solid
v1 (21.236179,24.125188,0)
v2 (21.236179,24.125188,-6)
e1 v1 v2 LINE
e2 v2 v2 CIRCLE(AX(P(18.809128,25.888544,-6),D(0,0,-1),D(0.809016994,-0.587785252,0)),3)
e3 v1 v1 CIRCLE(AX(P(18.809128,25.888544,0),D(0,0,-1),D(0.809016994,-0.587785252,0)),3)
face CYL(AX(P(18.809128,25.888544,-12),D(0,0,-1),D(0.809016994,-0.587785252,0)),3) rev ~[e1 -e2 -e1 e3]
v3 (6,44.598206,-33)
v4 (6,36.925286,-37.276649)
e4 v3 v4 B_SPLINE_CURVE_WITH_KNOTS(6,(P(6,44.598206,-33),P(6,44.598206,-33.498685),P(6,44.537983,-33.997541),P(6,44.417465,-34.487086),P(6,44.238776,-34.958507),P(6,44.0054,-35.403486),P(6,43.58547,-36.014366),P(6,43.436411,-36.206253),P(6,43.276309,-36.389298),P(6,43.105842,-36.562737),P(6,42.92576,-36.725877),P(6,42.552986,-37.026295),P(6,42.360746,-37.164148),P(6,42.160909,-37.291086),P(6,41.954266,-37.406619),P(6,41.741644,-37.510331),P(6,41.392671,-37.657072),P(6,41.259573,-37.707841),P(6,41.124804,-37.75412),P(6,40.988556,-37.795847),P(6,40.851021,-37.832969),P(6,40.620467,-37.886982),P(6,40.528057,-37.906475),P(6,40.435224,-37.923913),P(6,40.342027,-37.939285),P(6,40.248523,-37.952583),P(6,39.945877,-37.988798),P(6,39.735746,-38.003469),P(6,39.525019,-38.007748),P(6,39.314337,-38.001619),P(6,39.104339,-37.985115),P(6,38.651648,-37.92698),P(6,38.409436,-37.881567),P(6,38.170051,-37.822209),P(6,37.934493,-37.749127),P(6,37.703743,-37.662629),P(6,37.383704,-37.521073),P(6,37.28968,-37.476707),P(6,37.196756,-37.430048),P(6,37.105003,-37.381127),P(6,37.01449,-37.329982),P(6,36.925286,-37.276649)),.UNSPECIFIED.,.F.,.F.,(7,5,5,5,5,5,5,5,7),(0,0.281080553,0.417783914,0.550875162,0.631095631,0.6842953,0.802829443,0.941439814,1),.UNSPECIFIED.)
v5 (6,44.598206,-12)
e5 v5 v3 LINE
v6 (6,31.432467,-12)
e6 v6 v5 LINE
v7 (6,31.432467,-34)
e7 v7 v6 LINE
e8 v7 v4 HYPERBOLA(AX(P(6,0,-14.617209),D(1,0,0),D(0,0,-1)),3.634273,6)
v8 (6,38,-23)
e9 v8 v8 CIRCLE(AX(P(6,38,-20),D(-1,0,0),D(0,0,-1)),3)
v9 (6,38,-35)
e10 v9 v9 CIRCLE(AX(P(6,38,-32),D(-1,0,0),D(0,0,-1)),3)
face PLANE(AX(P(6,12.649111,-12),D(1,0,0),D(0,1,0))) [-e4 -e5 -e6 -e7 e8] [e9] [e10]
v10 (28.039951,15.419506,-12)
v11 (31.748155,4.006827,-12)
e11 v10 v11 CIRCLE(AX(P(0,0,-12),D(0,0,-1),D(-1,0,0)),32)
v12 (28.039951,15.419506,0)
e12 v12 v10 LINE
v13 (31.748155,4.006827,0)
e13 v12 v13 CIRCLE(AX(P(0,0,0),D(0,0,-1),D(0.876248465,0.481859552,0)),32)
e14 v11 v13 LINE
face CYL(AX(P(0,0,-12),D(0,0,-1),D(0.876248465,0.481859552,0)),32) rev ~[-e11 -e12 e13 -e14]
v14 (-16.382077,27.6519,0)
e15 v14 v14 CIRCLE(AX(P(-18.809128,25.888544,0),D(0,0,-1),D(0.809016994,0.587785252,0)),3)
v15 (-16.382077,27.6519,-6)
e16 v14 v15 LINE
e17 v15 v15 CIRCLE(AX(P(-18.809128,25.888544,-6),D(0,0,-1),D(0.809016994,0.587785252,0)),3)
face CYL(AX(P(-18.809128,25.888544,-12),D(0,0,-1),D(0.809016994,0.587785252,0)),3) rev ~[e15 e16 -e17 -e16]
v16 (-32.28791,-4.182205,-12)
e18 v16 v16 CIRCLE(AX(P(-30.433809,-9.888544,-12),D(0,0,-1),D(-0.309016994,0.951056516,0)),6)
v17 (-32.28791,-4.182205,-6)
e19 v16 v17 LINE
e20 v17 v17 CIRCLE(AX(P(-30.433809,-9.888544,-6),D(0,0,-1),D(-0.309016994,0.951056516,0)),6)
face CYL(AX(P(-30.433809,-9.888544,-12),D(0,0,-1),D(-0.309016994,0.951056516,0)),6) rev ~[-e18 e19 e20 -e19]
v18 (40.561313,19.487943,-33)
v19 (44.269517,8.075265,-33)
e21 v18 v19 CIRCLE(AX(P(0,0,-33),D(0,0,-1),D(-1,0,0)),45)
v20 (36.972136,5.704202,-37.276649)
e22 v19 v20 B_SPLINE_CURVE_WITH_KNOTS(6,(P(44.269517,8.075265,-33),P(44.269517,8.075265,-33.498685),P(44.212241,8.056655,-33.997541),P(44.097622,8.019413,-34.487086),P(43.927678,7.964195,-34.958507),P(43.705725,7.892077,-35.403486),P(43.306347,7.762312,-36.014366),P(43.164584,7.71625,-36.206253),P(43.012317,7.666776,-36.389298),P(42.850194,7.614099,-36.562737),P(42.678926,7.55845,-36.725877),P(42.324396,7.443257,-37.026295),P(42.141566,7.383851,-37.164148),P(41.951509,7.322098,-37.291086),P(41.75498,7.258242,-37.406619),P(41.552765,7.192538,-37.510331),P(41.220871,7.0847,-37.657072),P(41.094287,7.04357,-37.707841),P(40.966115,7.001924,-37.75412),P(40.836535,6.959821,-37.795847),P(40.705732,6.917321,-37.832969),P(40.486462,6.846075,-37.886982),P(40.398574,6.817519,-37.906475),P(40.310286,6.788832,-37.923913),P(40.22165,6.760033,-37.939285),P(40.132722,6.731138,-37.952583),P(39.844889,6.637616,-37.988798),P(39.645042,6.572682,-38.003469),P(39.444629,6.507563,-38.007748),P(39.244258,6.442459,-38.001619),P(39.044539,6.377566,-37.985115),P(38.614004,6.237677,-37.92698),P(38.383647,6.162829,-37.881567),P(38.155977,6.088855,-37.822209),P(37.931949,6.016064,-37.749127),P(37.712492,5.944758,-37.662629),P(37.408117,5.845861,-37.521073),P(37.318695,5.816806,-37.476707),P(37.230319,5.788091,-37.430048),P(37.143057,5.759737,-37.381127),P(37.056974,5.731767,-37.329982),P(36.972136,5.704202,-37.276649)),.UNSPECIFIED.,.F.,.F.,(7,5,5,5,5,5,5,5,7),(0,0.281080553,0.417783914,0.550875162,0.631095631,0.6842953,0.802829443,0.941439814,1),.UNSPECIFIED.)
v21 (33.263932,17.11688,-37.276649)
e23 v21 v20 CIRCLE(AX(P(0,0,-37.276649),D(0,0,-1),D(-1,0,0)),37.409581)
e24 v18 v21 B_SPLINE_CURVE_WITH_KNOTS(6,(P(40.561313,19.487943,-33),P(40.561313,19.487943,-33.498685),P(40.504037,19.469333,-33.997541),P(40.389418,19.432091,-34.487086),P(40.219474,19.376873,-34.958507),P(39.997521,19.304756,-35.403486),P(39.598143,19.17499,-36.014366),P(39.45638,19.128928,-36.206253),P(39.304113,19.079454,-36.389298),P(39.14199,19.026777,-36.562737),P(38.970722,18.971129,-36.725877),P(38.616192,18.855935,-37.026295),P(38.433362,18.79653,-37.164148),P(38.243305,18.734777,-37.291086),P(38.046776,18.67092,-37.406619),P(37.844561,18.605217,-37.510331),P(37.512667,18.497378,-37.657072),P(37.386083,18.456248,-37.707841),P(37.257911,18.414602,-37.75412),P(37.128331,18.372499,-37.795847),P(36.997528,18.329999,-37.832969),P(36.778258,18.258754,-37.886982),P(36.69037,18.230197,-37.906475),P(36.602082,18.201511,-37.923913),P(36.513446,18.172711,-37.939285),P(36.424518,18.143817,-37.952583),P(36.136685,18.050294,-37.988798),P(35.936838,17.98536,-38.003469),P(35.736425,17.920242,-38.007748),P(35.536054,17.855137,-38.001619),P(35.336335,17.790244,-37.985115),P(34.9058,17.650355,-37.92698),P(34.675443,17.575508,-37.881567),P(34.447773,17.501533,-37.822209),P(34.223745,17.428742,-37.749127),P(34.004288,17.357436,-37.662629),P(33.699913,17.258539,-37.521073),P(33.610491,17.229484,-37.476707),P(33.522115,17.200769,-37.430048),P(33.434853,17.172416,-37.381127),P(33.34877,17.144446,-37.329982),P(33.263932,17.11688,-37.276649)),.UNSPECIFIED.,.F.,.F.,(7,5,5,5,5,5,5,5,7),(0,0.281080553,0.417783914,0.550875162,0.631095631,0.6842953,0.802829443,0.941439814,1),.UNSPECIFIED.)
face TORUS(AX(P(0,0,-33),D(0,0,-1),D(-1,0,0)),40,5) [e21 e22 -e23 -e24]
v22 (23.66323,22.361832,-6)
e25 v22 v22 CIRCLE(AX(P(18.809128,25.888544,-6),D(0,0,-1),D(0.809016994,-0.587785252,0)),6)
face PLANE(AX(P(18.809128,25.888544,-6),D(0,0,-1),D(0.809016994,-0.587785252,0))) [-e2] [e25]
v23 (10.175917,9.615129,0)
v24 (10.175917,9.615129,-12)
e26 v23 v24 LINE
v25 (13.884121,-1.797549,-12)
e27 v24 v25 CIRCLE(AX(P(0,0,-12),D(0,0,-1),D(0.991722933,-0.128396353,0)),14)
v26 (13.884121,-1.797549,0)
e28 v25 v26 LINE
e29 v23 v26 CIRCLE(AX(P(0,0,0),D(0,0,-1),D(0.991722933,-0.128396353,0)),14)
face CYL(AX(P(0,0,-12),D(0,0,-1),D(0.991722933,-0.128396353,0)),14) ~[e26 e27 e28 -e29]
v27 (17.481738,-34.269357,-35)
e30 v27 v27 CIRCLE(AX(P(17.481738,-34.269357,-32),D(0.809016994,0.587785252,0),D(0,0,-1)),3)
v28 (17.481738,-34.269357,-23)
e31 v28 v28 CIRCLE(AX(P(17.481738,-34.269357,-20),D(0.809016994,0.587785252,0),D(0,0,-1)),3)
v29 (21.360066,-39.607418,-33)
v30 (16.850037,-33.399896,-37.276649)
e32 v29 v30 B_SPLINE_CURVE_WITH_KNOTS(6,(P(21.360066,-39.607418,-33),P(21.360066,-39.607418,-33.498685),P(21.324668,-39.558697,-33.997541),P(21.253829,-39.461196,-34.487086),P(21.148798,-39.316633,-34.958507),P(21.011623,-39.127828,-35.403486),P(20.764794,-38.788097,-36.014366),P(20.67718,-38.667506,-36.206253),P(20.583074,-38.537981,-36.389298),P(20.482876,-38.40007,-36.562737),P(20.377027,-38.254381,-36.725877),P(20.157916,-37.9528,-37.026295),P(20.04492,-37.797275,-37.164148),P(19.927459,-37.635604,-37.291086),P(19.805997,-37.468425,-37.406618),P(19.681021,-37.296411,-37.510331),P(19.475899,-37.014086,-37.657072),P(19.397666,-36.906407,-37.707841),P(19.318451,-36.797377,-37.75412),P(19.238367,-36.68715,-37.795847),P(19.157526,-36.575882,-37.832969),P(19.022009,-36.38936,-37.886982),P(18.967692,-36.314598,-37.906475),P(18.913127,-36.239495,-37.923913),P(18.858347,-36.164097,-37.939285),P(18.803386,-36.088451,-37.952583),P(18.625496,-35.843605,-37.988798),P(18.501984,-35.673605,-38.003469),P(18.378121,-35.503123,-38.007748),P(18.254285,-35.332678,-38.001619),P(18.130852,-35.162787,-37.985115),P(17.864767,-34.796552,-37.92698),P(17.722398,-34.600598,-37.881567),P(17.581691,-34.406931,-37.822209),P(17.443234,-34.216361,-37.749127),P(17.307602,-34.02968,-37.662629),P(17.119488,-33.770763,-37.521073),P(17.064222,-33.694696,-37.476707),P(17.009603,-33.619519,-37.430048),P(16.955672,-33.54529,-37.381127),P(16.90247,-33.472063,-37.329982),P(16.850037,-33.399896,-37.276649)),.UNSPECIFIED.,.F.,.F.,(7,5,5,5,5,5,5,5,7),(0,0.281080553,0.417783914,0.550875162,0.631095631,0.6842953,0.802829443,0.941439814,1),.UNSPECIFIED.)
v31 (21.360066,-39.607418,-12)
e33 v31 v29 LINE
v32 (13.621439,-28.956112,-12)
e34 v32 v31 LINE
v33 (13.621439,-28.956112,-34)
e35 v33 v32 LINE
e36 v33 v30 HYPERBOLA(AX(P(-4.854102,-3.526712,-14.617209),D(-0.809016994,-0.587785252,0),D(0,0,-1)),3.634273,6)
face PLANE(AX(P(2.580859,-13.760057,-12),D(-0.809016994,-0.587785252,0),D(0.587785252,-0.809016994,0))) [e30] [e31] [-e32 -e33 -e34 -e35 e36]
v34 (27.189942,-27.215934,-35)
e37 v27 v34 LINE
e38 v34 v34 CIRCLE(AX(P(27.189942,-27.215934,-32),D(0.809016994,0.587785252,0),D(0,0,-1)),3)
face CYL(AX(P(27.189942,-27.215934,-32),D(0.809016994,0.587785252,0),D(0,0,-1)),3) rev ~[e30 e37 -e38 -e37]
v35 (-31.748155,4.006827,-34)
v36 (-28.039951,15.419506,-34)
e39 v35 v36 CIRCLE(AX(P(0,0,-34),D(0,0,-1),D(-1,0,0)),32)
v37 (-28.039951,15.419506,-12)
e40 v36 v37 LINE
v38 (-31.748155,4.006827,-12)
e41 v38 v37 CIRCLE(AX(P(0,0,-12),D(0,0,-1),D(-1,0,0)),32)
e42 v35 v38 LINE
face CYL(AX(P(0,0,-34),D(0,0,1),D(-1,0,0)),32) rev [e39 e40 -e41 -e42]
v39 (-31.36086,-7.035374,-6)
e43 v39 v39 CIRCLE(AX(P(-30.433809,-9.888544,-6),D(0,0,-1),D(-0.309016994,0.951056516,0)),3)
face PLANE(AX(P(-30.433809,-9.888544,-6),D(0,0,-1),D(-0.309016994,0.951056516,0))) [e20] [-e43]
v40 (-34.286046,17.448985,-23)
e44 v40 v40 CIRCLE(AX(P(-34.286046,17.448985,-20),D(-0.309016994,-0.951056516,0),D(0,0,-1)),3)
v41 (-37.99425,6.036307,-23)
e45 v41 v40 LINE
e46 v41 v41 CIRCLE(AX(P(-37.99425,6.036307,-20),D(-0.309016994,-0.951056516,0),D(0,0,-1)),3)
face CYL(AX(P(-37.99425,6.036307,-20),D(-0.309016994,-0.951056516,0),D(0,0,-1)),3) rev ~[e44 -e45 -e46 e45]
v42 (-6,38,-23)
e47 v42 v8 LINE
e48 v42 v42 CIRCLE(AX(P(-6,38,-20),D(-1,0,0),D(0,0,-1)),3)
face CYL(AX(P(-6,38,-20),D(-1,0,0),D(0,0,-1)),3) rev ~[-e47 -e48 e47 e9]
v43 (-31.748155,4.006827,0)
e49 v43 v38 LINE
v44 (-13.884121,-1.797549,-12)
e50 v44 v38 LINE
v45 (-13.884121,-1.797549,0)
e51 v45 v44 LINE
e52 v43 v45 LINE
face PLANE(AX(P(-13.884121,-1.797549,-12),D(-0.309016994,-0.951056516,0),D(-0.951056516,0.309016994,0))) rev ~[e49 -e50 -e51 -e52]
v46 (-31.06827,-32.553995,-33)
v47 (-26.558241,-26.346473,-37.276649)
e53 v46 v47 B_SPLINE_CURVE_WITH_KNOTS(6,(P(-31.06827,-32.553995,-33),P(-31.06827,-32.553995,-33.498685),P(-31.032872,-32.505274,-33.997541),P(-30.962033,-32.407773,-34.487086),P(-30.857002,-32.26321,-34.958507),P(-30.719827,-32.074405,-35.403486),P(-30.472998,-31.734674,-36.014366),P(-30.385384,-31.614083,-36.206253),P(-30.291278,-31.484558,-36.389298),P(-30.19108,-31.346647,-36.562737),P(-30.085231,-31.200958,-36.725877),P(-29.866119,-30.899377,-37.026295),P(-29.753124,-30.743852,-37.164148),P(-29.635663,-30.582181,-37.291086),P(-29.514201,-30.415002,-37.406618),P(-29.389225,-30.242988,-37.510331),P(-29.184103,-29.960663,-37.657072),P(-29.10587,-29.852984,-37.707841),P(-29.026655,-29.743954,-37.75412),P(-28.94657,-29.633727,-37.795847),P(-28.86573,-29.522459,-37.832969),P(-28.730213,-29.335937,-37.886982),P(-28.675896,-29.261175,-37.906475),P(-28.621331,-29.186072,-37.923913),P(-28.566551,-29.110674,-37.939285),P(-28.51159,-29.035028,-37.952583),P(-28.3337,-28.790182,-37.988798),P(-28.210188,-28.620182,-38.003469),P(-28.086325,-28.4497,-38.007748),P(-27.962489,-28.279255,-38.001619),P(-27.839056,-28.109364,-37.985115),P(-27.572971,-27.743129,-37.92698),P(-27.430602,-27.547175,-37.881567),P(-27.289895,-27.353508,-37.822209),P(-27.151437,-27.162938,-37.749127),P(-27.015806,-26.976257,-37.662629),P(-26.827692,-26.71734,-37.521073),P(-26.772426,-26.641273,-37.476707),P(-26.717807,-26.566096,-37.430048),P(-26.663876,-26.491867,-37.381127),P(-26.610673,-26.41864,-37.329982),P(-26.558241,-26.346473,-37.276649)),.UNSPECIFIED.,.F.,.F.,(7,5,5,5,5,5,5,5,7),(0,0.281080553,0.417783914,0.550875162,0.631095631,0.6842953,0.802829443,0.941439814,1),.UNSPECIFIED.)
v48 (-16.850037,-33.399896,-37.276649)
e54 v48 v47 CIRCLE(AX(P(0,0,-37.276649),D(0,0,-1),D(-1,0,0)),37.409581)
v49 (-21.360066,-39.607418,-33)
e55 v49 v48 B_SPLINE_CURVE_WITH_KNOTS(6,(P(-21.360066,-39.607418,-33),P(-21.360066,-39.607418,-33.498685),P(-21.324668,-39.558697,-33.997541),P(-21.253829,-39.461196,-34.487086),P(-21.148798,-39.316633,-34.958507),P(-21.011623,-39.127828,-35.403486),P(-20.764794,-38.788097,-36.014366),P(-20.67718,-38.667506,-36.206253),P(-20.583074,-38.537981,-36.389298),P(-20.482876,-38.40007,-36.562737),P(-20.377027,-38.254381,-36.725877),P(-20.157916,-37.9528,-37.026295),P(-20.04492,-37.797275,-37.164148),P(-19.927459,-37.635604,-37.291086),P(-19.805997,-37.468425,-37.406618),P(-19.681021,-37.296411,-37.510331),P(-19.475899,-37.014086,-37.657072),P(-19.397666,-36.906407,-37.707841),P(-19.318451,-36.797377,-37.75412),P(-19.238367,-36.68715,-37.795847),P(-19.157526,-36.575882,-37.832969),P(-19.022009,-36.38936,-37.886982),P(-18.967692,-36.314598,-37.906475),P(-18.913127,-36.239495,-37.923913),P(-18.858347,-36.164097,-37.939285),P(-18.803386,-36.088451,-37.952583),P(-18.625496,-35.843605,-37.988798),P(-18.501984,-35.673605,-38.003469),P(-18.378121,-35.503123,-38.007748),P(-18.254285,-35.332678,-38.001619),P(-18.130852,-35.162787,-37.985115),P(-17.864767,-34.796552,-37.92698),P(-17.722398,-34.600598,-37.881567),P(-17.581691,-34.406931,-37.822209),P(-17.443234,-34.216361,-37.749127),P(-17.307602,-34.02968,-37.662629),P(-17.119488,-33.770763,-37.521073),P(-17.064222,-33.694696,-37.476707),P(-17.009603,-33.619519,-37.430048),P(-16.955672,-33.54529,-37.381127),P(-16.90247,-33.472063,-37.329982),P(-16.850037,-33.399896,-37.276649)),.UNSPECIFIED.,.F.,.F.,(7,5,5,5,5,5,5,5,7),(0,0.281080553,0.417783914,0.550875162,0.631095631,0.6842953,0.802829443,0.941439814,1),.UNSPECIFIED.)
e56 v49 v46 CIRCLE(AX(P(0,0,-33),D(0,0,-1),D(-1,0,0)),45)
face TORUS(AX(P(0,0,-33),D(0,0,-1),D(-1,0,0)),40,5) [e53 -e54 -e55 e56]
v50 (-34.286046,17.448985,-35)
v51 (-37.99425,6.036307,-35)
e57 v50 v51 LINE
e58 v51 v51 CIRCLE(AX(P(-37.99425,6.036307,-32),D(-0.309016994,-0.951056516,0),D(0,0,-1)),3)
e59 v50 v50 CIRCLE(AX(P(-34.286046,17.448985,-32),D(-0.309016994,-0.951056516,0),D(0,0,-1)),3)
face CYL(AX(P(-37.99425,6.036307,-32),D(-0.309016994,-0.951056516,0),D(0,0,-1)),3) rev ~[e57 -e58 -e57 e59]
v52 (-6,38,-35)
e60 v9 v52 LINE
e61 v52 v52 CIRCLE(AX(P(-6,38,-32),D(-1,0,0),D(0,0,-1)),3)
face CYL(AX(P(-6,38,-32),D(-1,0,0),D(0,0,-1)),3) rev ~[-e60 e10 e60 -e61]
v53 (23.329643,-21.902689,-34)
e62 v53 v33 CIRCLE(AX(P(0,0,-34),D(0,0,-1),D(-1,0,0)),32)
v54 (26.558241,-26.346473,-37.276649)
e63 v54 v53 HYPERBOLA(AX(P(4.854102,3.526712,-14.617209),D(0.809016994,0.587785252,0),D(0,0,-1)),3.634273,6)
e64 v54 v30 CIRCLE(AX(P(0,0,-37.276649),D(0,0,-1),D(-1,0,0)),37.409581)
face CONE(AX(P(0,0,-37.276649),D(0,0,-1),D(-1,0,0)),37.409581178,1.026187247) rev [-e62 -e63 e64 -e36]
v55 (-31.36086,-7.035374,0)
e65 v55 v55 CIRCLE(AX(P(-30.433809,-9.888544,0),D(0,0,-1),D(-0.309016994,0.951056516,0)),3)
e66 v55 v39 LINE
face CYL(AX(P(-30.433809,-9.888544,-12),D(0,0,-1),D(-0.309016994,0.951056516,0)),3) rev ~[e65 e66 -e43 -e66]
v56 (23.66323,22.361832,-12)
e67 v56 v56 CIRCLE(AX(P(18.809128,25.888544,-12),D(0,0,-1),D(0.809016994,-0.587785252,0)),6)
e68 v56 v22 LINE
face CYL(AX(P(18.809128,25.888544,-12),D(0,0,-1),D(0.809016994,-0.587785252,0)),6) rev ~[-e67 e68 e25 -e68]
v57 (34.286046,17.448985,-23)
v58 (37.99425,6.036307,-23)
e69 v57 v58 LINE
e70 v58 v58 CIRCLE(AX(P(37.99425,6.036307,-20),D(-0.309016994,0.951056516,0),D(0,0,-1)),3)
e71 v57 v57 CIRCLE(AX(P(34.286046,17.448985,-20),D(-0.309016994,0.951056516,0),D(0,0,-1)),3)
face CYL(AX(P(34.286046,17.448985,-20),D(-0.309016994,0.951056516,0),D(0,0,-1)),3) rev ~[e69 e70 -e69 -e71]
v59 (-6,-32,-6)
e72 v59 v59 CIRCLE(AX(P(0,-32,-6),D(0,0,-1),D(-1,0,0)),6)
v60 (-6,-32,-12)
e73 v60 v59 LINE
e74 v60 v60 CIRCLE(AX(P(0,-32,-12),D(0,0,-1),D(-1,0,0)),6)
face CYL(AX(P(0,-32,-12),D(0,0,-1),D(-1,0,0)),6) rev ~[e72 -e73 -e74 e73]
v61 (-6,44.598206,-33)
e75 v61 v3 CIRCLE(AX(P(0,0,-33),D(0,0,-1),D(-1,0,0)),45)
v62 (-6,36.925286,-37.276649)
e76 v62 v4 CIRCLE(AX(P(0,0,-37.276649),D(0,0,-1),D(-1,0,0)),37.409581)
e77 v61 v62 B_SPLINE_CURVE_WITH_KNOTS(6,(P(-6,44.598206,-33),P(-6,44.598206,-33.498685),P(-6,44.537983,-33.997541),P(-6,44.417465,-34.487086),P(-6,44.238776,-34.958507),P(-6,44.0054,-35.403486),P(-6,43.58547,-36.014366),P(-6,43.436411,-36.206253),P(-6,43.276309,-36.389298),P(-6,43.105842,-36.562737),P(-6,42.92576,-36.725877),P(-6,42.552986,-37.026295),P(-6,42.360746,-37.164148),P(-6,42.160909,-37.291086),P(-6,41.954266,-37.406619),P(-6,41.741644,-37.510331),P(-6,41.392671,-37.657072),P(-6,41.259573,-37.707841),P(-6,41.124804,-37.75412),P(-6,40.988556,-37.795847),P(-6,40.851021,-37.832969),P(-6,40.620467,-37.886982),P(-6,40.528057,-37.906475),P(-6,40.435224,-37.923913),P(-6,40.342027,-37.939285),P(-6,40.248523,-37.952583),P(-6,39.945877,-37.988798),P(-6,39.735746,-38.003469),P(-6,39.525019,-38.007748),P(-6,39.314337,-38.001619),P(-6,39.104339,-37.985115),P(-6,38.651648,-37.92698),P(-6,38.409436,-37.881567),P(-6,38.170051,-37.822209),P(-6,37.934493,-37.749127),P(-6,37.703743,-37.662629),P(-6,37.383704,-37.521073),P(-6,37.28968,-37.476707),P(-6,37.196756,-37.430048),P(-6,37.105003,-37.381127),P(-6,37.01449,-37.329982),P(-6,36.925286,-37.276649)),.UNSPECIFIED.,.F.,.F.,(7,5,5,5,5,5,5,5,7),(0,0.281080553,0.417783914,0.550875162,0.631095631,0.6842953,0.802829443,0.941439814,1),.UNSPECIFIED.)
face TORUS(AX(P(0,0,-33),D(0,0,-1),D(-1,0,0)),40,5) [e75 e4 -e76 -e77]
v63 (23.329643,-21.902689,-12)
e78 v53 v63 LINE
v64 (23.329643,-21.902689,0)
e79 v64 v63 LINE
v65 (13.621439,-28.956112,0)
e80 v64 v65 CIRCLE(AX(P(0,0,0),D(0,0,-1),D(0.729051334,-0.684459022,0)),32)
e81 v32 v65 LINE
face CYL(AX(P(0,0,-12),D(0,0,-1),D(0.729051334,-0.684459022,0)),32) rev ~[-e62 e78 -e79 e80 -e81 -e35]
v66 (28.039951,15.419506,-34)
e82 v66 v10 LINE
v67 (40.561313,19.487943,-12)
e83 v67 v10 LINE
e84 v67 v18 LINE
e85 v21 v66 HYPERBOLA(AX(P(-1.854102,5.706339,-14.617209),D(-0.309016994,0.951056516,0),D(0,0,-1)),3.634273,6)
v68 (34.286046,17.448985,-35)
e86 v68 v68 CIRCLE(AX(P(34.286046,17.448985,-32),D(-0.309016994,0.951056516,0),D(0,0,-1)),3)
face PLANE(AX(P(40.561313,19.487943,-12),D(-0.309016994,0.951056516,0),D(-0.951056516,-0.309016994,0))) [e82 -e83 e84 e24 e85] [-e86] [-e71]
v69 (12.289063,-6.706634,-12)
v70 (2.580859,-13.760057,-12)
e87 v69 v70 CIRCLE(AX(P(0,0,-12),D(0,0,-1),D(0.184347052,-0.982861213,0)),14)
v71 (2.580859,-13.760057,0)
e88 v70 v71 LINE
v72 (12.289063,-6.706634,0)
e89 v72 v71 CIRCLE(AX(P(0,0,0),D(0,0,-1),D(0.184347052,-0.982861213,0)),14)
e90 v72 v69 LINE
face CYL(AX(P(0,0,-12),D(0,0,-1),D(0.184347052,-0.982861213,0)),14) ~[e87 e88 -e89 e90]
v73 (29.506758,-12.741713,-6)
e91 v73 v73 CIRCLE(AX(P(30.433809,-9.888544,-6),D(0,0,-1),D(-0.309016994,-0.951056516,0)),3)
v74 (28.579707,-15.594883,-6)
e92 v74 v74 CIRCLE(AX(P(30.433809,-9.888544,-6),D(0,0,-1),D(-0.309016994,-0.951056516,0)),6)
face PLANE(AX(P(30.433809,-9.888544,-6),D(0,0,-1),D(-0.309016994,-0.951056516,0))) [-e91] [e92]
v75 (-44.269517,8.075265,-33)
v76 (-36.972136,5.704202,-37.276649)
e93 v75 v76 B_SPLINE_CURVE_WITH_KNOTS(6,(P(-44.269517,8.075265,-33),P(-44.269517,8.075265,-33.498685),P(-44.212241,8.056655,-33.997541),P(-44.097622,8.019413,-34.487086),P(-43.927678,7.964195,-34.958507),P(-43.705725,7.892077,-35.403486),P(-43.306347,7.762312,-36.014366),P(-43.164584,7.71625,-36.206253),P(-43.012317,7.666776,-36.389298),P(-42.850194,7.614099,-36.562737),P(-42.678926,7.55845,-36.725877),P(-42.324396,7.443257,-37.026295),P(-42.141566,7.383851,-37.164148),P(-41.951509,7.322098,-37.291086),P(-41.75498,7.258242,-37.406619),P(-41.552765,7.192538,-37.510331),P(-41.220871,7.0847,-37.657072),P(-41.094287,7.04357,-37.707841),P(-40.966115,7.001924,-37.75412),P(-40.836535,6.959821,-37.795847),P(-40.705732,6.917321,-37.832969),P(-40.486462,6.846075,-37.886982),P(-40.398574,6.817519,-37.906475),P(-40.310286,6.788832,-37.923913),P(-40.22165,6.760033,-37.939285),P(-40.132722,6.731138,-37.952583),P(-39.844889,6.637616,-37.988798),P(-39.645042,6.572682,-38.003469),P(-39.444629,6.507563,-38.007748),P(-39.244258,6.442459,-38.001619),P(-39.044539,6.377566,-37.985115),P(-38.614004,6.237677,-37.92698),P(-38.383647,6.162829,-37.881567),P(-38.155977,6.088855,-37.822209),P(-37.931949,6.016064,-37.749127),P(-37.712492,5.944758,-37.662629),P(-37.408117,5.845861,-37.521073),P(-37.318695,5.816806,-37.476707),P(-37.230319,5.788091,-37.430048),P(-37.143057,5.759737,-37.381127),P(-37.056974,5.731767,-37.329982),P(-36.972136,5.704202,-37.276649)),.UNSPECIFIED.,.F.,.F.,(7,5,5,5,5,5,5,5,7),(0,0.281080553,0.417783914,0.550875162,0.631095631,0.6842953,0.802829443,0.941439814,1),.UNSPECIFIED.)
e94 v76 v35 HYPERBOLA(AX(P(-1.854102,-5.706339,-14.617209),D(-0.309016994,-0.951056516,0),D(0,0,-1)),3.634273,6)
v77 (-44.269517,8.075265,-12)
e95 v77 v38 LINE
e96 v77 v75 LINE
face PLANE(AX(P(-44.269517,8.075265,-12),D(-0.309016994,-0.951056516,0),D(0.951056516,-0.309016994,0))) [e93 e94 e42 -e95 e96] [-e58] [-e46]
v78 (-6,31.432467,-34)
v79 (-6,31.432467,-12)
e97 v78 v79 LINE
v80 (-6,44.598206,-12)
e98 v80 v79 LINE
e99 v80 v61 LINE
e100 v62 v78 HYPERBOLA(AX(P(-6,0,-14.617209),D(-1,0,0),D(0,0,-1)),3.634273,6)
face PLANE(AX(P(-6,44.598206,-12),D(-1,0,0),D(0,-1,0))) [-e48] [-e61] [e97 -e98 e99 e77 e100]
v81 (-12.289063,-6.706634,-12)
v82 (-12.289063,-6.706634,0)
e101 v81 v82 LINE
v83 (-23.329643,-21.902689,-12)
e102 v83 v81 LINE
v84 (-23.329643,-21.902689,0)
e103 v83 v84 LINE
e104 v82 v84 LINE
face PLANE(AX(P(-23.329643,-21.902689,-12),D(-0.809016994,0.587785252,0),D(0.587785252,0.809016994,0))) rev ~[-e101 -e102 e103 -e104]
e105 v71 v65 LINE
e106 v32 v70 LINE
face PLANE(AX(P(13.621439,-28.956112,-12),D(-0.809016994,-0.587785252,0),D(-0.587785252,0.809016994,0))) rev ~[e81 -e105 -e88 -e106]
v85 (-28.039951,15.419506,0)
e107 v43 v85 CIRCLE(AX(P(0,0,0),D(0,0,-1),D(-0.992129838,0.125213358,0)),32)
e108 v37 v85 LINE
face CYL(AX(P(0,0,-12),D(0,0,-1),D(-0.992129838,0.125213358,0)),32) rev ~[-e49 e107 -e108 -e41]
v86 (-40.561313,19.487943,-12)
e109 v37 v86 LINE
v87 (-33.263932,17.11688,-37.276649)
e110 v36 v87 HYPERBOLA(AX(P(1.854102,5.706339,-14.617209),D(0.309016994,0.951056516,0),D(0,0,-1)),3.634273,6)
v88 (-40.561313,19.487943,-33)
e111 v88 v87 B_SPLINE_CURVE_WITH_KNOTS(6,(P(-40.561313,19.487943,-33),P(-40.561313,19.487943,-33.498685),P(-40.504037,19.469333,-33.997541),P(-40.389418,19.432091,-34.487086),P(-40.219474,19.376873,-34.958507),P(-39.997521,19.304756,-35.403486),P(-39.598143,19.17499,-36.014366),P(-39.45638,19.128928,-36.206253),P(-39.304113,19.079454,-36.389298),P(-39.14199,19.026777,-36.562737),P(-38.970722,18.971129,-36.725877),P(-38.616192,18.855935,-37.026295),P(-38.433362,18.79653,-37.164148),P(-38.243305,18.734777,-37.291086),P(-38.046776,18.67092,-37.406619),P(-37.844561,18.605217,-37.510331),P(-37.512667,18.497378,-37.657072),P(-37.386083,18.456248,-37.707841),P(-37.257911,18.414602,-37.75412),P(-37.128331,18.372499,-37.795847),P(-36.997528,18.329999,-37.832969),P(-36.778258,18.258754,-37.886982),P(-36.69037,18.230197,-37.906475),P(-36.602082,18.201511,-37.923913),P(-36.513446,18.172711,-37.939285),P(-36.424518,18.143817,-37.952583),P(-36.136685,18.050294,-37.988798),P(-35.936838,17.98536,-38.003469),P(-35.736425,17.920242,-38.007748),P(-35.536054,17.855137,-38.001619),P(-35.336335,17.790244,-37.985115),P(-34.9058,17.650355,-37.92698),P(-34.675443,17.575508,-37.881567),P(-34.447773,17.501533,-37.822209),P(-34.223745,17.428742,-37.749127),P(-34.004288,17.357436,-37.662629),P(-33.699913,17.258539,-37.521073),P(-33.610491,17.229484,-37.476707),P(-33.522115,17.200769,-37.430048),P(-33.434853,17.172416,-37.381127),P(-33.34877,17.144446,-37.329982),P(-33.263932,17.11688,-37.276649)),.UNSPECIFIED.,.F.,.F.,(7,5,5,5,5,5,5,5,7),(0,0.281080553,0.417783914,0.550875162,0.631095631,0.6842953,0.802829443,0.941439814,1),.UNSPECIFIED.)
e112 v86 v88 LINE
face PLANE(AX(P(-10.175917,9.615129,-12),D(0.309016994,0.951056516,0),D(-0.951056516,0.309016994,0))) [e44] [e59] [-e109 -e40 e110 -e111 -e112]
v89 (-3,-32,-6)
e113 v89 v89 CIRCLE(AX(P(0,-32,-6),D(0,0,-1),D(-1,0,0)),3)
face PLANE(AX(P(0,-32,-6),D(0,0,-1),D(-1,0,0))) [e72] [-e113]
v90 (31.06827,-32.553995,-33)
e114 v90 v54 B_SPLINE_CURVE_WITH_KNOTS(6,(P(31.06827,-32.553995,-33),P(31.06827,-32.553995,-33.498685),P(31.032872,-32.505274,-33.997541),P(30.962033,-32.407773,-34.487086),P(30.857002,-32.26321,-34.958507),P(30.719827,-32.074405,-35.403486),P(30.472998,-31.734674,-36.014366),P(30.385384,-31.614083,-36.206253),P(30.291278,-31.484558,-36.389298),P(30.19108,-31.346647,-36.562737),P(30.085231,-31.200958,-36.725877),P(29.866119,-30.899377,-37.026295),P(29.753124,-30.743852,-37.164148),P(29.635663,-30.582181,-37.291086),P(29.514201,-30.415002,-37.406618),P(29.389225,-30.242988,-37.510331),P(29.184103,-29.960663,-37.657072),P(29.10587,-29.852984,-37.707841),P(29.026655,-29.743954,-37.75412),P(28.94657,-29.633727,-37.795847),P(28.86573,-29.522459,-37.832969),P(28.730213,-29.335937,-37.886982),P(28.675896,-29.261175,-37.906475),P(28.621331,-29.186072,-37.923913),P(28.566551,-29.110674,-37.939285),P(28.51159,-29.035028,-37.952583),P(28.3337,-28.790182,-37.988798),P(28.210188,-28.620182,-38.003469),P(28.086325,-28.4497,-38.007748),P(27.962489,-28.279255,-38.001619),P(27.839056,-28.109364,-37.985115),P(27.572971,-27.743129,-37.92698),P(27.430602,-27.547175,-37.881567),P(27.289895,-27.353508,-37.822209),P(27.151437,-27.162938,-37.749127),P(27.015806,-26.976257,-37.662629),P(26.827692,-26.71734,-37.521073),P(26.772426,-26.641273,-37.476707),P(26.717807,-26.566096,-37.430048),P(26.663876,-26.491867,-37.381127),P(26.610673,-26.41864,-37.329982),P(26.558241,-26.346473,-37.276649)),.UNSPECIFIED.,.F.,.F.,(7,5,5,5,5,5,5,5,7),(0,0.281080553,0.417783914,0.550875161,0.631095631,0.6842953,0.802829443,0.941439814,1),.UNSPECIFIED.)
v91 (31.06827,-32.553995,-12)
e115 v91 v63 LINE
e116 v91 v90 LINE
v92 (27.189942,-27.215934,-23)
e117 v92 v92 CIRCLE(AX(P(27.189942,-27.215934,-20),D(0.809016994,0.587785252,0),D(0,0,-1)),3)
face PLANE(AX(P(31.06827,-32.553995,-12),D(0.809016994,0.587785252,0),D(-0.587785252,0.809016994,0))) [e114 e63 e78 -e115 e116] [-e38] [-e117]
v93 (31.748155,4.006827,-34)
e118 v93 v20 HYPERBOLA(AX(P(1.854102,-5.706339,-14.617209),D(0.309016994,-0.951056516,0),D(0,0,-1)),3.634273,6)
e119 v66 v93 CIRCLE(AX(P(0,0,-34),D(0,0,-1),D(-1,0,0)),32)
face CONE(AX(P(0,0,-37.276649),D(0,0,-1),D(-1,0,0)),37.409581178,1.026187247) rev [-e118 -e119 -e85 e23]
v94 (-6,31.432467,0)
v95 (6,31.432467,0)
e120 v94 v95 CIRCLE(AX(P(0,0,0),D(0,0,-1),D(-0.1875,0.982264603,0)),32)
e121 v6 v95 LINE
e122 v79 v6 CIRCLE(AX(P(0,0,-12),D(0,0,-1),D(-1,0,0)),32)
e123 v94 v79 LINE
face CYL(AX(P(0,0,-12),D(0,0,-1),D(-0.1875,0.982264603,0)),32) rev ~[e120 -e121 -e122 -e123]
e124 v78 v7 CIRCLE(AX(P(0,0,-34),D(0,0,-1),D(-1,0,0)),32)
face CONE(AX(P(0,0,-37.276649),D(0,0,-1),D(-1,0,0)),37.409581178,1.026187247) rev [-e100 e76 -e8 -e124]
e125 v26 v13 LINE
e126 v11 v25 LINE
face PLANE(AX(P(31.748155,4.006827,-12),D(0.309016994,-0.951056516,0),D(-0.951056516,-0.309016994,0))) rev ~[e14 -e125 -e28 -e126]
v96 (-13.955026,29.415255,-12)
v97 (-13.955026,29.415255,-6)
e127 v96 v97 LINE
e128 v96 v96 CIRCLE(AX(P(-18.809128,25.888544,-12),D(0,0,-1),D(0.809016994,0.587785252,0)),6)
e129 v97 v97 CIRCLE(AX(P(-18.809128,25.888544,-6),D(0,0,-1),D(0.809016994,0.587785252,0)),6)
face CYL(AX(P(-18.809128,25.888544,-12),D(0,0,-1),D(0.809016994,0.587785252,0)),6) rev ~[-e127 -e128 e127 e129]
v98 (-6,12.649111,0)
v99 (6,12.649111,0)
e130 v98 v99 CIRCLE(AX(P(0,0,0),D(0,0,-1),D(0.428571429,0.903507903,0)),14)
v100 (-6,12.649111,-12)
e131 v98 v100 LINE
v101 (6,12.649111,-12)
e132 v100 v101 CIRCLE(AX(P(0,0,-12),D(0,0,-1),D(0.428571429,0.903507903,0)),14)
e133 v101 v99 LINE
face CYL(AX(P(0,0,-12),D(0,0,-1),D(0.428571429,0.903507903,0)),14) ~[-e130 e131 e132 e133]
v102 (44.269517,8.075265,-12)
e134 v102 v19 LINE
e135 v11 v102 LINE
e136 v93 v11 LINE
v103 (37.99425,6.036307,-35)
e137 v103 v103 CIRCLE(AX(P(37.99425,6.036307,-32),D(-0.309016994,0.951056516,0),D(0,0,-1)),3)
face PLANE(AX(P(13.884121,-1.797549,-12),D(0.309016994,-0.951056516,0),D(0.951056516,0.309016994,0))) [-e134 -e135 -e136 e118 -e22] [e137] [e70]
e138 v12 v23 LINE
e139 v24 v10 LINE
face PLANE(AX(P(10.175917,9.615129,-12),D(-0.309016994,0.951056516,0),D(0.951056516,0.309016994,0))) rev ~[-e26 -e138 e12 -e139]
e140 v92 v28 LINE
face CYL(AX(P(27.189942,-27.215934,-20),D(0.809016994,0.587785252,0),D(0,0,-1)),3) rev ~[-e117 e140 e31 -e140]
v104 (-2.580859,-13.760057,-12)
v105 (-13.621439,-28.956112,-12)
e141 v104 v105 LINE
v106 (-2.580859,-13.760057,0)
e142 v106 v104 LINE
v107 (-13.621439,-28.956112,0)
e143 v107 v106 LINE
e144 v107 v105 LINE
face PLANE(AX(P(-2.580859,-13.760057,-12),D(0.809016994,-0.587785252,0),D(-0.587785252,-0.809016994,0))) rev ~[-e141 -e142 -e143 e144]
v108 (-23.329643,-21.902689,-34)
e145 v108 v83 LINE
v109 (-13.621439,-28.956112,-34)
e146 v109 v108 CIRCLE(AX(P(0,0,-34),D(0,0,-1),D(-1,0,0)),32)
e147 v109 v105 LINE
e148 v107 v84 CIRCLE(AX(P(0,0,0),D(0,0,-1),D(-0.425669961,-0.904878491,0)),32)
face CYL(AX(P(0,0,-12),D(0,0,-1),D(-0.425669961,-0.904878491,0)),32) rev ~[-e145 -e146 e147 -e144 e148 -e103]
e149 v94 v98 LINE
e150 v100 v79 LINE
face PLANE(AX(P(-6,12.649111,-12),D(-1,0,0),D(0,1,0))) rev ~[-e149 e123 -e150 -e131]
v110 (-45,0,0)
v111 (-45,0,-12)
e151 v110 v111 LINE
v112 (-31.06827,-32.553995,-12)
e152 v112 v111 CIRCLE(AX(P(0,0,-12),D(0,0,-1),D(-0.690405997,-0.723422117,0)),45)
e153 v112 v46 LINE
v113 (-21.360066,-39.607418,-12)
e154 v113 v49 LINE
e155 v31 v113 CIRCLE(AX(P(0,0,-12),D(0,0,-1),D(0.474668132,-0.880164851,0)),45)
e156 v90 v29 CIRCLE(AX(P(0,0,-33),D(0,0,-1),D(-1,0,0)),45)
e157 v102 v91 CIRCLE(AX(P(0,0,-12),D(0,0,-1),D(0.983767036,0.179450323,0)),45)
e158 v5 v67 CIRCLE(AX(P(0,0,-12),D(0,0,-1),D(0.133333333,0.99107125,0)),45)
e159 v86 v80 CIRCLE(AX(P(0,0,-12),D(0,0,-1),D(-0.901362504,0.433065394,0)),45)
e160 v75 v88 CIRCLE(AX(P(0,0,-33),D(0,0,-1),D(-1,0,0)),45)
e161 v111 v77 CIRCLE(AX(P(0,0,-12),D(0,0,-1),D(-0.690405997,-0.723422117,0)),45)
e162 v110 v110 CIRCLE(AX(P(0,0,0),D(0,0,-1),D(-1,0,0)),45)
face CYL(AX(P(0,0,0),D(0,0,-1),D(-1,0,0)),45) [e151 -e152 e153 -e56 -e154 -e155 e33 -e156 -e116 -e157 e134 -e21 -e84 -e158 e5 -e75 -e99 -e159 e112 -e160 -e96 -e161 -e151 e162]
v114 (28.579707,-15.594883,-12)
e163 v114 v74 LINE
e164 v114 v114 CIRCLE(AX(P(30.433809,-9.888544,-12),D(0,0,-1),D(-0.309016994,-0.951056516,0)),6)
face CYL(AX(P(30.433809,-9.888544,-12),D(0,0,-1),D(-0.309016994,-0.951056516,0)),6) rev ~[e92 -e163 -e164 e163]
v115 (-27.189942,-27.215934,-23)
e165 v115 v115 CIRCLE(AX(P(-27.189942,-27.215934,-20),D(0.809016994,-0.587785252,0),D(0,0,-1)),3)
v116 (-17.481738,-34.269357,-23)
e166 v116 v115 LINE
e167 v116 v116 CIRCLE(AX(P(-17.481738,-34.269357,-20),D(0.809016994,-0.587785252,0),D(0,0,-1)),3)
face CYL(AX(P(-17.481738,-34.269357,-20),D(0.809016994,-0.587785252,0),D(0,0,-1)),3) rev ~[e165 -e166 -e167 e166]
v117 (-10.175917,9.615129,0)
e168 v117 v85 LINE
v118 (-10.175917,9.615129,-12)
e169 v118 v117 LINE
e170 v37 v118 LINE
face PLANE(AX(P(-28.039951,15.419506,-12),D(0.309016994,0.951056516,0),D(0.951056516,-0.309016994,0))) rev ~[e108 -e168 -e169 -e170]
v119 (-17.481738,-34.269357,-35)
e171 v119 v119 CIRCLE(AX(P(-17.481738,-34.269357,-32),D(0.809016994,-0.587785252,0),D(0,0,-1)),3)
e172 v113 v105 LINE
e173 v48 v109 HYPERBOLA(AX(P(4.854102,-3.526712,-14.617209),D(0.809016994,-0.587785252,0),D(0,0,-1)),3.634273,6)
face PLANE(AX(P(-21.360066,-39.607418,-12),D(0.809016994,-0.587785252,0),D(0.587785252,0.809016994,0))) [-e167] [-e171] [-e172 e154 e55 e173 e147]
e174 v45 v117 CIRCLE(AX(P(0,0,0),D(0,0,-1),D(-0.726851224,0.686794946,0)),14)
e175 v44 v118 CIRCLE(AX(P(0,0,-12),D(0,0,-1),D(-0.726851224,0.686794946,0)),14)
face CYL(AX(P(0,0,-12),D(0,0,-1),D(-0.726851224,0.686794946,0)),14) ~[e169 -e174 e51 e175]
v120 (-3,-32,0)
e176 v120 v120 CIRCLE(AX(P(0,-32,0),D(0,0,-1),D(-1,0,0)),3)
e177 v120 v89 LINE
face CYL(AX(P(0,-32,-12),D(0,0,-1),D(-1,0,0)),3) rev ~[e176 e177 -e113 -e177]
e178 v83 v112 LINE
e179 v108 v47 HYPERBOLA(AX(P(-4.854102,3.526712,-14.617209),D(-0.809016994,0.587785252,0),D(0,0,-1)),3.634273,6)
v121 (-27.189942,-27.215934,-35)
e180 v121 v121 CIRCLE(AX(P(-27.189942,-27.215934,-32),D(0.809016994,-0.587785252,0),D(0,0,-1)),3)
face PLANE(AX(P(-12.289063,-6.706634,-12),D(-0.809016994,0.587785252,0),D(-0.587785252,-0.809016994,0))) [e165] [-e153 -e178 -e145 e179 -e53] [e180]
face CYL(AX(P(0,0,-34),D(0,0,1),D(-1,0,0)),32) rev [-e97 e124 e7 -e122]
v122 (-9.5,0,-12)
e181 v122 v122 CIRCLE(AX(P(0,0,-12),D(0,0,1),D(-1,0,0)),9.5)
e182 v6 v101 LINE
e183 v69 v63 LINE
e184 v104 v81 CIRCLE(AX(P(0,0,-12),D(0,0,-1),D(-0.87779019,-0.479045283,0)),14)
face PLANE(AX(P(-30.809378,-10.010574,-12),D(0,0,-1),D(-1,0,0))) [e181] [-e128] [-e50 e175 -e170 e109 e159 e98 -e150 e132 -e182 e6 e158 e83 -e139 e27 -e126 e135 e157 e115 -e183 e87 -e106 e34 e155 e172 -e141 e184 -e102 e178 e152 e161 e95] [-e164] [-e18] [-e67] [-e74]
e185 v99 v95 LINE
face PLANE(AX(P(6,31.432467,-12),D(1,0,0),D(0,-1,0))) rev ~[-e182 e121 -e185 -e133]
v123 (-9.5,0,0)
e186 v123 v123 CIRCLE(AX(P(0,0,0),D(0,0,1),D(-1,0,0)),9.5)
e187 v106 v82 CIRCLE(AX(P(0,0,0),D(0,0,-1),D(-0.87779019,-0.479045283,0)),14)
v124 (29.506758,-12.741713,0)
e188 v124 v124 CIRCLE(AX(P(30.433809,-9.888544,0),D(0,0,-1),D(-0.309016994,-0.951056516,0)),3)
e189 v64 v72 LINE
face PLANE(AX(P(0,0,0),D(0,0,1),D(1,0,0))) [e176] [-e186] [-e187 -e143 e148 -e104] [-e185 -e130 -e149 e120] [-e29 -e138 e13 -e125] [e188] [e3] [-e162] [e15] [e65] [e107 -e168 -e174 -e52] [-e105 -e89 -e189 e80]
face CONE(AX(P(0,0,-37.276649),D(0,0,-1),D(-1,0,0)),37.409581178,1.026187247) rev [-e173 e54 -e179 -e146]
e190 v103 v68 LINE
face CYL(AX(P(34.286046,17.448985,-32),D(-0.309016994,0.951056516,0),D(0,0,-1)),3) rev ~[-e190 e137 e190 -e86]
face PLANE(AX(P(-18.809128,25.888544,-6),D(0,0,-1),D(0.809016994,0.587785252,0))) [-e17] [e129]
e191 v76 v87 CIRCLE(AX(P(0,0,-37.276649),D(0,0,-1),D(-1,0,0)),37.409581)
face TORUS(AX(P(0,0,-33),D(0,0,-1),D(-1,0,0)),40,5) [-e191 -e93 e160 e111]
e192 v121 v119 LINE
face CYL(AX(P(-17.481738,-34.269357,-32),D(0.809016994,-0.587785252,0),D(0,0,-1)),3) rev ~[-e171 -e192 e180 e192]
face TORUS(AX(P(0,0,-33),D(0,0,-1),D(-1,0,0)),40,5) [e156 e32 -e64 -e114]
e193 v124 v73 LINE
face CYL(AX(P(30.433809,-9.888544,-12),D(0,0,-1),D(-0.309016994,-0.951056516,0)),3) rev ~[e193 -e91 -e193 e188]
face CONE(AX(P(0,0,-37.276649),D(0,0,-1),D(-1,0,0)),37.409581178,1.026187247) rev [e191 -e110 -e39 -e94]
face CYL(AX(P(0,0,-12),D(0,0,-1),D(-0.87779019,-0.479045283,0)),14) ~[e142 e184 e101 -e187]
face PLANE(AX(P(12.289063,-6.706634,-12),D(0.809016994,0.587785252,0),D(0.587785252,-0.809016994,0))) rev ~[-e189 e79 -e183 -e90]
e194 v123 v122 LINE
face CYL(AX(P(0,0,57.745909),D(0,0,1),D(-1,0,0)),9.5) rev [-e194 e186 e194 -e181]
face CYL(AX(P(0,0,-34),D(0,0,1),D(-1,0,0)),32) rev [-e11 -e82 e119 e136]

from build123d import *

# Parameters (mm, degrees)
CUT_EXTRUDE2_DEPTH      = 69.74590907246771
SKETCH3_R               = 6.000000000000004
SKETCH3_R_2             = 3.0000000000000004
CUT_EXTRUDE3_DEPTH      = 6
SKETCH3_3_R             = 3.0000000000000004
CUT_EXTRUDE4_DEPTH      = 69.74590907417863
CIRPATTERN2_COUNT       = 5
CUT_EXTRUDE5_DEPTH      = 69.74590907417863
CUT_EXTRUDE5_DEPTH_BACK = 69.74590907417863
SKETCH4_R               = 9.5
CUT_EXTRUDE6_DEPTH      = 69.74590907417863
CIRPATTERN3_COUNT       = 5
SKETCH6_R               = 3.0000000000000018
CUT_EXTRUDE7_DEPTH      = 80.2734080940737
CIRPATTERN4_COUNT       = 5


with BuildPart() as part:
    # Sketch1 → Revolve1 (revolve)
    with BuildSketch(Plane(origin=(0, 0, 0), x_dir=(1, 0, 0), z_dir=(0, 1, 0))):
        with BuildLine():
            Line((0, 0), (-45, -5.51e-15))
            Line((-45, -5.51e-15), (-45, 11.999999999999996))
            Line((-45, 11.999999999999996), (-44.99999999999999, 33))
            ThreePointArc((-44.99999999999999, 33), (-42.45437424738335, 37.35615048566752), (-37.409581178487436, 37.276649427899535))
            Line((-37.409581178487436, 37.276649427899535), (-32.00000000000002, 33.99999999999999))
            Line((-32.00000000000002, 33.99999999999999), (-32, 11.999999999999996))
            Line((-32, 11.999999999999996), (0, 11.999999999999996))
            Line((0, 11.999999999999996), (0, 0))
        make_face()
    revolve(axis=Axis((0, 0, -11.999999999999996), (0, 0, -1)))

    # Sketch2 → Cut-Extrude2 (cut, through all)
    with BuildSketch(Plane(origin=(0, 0, -11.999999999999996), x_dir=(-1, 0, 0), z_dir=(0, 0, -1))):
        with BuildLine():
            Line((-2.580858722954003, -13.760056985788697), (-21.360065941469884, -39.60741828213572))
            ThreePointArc((-21.360065941469884, -39.60741828213572), (2.76e-15, -45.00000000000001), (21.360065941469884, -39.6074182821357))
            Line((21.360065941469884, -39.6074182821357), (2.5808587229540065, -13.76005698578869))
            ThreePointArc((2.5808587229540065, -13.76005698578869), (8.6e-16, -14.000000000000004), (-2.580858722954003, -13.760056985788697))
        make_face()
        with BuildLine():
            Line((-13.88412106640061, -1.7975489460737892), (-44.269516627736664, 8.07526454963231))
            ThreePointArc((-44.269516627736664, 8.07526454963231), (-42.797543233281964, -13.905764746872519), (-31.068269873969342, -32.553995254625946))
            Line((-31.068269873969342, -32.553995254625946), (-12.289062655453392, -6.7066339582789825))
            ThreePointArc((-12.289062655453392, -6.7066339582789825), (-13.314791228132167, -4.326237921249232), (-13.88412106640061, -1.7975489460737892))
        make_face()
        with BuildLine():
            Line((-5.999999999999929, 12.649110640673554), (-5.999999999999756, 44.59820624195555))
            ThreePointArc((-5.999999999999756, 44.59820624195555), (-26.45033635316109, 36.40576474687278), (-40.56131269523718, 19.487942745174255))
            Line((-40.56131269523718, 19.487942745174255), (-10.175917133901171, 9.61512924946807))
            ThreePointArc((-10.175917133901171, 9.61512924946807), (-8.228993532094563, 11.326237921249309), (-5.999999999999929, 12.649110640673554))
        make_face()
        with BuildLine():
            Line((10.175917133901313, 9.615129249467932), (40.561312695237476, 19.487942745173687))
            ThreePointArc((40.561312695237476, 19.487942745173687), (26.45033635316161, 36.405764746872414), (6.000000000000387, 44.598206241955445))
            Line((6.000000000000387, 44.598206241955445), (6.0000000000001075, 12.649110640673463))
            ThreePointArc((6.0000000000001075, 12.649110640673463), (8.228993532094723, 11.326237921249195), (10.175917133901313, 9.615129249467932))
        make_face()
        with BuildLine():
            Line((12.289062655453302, -6.70663395827915), (31.068269873968898, -32.55399525462638))
            ThreePointArc((31.068269873968898, -32.55399525462638), (42.79754323328176, -13.90576474687311), (44.26951662773675, 8.075264549631695))
            Line((44.26951662773675, 8.075264549631695), (13.884121066400576, -1.7975489460739773))
            ThreePointArc((13.884121066400576, -1.7975489460739773), (13.314791228132103, -4.32623792124941), (12.289062655453302, -6.70663395827915))
        make_face()
    extrude(amount=CUT_EXTRUDE2_DEPTH, mode=Mode.SUBTRACT)

    # Sketch3 → Cut-Extrude3 (cut)
    with BuildSketch(Plane(origin=(0, 0, -11.999999999999996), x_dir=(-1, 0, 0), z_dir=(0, 0, -1))):
        with Locations((0, -32)):
            Circle(SKETCH3_R)
        with Locations((0, -32)):
            Circle(SKETCH3_R_2, mode=Mode.SUBTRACT)
    cut_extrude3 = extrude(amount=-CUT_EXTRUDE3_DEPTH, mode=Mode.SUBTRACT)

    # Sketch3<3> → Cut-Extrude4 (cut, symmetric)
    with BuildSketch(Plane(origin=(0, 0, -11.999999999999996), x_dir=(-1, 0, 0), z_dir=(0, 0, -1))):
        with Locations((0, -32)):
            Circle(SKETCH3_3_R)
    cut_extrude4 = extrude(amount=CUT_EXTRUDE4_DEPTH, both=True, mode=Mode.SUBTRACT)

    # CirPattern2: Cut-Extrude3, Cut-Extrude4 ×5 about axis
    cirpattern2_axis = Axis((0, 0, -11.999999999999996), (0, 0, -1))
    add([cut_extrude3.rotate(cirpattern2_axis, i * 360 / CIRPATTERN2_COUNT) for i in range(1, CIRPATTERN2_COUNT)], mode=Mode.SUBTRACT)
    add([cut_extrude4.rotate(cirpattern2_axis, i * 360 / CIRPATTERN2_COUNT) for i in range(1, CIRPATTERN2_COUNT)], mode=Mode.SUBTRACT)

    # Sketch4 → Cut-Extrude5 (cut, two sides: drawn at the far end of the back side and taken through both)
    with BuildSketch(Plane(origin=(0, 0, -11.999999999999996), x_dir=(-1, 0, 0), z_dir=(0, 0, -1)).offset(-CUT_EXTRUDE5_DEPTH_BACK)):
        Circle(SKETCH4_R)
    extrude(amount=CUT_EXTRUDE5_DEPTH + CUT_EXTRUDE5_DEPTH_BACK, mode=Mode.SUBTRACT)

    # Sketch4<4> → Cut-Extrude6 (cut, symmetric)
    with BuildSketch(Plane(origin=(0, 0, -11.999999999999996), x_dir=(-1, 0, 0), z_dir=(0, 0, -1))):
        with BuildLine():
            ThreePointArc((12.2890626554533, -6.706633958279154), (8.228993532094561, -11.326237921249309), (2.5808587229540194, -13.760056985788692))
            Line((2.580858722954019, -13.760056985788692), (13.621438750567677, -28.956111727311274))
            ThreePointArc((13.621438750567677, -28.956111727311274), (18.809128073359005, -25.888543819998425), (23.3296426830668, -21.90268869980185))
            Line((23.329642683066798, -21.902688699801853), (12.289062655453304, -6.706633958279147))
        make_face()
    cut_extrude6 = extrude(amount=CUT_EXTRUDE6_DEPTH, both=True, mode=Mode.SUBTRACT)

    # CirPattern3: Cut-Extrude6 ×5 about axis
    cirpattern3_axis = Axis((0, 0, -11.999999999999996), (0, 0, -1))
    for i in range(1, CIRPATTERN3_COUNT):
        add(cut_extrude6.rotate(cirpattern3_axis, i * 360 / CIRPATTERN3_COUNT), mode=Mode.SUBTRACT)

    # Sketch6 → Cut-Extrude7 (cut, symmetric)
    with BuildSketch(Plane(origin=(4.854101966249685, -3.52671151375484, 0), x_dir=(0, 0, -1), z_dir=(0.8090169943749475, -0.5877852522924734, 0))):
        with Locations((20.00000000000001, -38)):
            Circle(SKETCH6_R)
        with Locations((32.000000000000014, -38.00000000000001)):
            Circle(SKETCH6_R)
    cut_extrude7 = extrude(amount=CUT_EXTRUDE7_DEPTH, both=True, mode=Mode.SUBTRACT)

    # CirPattern4: Cut-Extrude7 ×5 about axis
    cirpattern4_axis = Axis((0, 0, -11.999999999999996), (0, 0, -1))
    for i in range(1, CIRPATTERN4_COUNT):
        add(cut_extrude7.rotate(cirpattern4_axis, i * 360 / CIRPATTERN4_COUNT), mode=Mode.SUBTRACT)


solid = part.part
